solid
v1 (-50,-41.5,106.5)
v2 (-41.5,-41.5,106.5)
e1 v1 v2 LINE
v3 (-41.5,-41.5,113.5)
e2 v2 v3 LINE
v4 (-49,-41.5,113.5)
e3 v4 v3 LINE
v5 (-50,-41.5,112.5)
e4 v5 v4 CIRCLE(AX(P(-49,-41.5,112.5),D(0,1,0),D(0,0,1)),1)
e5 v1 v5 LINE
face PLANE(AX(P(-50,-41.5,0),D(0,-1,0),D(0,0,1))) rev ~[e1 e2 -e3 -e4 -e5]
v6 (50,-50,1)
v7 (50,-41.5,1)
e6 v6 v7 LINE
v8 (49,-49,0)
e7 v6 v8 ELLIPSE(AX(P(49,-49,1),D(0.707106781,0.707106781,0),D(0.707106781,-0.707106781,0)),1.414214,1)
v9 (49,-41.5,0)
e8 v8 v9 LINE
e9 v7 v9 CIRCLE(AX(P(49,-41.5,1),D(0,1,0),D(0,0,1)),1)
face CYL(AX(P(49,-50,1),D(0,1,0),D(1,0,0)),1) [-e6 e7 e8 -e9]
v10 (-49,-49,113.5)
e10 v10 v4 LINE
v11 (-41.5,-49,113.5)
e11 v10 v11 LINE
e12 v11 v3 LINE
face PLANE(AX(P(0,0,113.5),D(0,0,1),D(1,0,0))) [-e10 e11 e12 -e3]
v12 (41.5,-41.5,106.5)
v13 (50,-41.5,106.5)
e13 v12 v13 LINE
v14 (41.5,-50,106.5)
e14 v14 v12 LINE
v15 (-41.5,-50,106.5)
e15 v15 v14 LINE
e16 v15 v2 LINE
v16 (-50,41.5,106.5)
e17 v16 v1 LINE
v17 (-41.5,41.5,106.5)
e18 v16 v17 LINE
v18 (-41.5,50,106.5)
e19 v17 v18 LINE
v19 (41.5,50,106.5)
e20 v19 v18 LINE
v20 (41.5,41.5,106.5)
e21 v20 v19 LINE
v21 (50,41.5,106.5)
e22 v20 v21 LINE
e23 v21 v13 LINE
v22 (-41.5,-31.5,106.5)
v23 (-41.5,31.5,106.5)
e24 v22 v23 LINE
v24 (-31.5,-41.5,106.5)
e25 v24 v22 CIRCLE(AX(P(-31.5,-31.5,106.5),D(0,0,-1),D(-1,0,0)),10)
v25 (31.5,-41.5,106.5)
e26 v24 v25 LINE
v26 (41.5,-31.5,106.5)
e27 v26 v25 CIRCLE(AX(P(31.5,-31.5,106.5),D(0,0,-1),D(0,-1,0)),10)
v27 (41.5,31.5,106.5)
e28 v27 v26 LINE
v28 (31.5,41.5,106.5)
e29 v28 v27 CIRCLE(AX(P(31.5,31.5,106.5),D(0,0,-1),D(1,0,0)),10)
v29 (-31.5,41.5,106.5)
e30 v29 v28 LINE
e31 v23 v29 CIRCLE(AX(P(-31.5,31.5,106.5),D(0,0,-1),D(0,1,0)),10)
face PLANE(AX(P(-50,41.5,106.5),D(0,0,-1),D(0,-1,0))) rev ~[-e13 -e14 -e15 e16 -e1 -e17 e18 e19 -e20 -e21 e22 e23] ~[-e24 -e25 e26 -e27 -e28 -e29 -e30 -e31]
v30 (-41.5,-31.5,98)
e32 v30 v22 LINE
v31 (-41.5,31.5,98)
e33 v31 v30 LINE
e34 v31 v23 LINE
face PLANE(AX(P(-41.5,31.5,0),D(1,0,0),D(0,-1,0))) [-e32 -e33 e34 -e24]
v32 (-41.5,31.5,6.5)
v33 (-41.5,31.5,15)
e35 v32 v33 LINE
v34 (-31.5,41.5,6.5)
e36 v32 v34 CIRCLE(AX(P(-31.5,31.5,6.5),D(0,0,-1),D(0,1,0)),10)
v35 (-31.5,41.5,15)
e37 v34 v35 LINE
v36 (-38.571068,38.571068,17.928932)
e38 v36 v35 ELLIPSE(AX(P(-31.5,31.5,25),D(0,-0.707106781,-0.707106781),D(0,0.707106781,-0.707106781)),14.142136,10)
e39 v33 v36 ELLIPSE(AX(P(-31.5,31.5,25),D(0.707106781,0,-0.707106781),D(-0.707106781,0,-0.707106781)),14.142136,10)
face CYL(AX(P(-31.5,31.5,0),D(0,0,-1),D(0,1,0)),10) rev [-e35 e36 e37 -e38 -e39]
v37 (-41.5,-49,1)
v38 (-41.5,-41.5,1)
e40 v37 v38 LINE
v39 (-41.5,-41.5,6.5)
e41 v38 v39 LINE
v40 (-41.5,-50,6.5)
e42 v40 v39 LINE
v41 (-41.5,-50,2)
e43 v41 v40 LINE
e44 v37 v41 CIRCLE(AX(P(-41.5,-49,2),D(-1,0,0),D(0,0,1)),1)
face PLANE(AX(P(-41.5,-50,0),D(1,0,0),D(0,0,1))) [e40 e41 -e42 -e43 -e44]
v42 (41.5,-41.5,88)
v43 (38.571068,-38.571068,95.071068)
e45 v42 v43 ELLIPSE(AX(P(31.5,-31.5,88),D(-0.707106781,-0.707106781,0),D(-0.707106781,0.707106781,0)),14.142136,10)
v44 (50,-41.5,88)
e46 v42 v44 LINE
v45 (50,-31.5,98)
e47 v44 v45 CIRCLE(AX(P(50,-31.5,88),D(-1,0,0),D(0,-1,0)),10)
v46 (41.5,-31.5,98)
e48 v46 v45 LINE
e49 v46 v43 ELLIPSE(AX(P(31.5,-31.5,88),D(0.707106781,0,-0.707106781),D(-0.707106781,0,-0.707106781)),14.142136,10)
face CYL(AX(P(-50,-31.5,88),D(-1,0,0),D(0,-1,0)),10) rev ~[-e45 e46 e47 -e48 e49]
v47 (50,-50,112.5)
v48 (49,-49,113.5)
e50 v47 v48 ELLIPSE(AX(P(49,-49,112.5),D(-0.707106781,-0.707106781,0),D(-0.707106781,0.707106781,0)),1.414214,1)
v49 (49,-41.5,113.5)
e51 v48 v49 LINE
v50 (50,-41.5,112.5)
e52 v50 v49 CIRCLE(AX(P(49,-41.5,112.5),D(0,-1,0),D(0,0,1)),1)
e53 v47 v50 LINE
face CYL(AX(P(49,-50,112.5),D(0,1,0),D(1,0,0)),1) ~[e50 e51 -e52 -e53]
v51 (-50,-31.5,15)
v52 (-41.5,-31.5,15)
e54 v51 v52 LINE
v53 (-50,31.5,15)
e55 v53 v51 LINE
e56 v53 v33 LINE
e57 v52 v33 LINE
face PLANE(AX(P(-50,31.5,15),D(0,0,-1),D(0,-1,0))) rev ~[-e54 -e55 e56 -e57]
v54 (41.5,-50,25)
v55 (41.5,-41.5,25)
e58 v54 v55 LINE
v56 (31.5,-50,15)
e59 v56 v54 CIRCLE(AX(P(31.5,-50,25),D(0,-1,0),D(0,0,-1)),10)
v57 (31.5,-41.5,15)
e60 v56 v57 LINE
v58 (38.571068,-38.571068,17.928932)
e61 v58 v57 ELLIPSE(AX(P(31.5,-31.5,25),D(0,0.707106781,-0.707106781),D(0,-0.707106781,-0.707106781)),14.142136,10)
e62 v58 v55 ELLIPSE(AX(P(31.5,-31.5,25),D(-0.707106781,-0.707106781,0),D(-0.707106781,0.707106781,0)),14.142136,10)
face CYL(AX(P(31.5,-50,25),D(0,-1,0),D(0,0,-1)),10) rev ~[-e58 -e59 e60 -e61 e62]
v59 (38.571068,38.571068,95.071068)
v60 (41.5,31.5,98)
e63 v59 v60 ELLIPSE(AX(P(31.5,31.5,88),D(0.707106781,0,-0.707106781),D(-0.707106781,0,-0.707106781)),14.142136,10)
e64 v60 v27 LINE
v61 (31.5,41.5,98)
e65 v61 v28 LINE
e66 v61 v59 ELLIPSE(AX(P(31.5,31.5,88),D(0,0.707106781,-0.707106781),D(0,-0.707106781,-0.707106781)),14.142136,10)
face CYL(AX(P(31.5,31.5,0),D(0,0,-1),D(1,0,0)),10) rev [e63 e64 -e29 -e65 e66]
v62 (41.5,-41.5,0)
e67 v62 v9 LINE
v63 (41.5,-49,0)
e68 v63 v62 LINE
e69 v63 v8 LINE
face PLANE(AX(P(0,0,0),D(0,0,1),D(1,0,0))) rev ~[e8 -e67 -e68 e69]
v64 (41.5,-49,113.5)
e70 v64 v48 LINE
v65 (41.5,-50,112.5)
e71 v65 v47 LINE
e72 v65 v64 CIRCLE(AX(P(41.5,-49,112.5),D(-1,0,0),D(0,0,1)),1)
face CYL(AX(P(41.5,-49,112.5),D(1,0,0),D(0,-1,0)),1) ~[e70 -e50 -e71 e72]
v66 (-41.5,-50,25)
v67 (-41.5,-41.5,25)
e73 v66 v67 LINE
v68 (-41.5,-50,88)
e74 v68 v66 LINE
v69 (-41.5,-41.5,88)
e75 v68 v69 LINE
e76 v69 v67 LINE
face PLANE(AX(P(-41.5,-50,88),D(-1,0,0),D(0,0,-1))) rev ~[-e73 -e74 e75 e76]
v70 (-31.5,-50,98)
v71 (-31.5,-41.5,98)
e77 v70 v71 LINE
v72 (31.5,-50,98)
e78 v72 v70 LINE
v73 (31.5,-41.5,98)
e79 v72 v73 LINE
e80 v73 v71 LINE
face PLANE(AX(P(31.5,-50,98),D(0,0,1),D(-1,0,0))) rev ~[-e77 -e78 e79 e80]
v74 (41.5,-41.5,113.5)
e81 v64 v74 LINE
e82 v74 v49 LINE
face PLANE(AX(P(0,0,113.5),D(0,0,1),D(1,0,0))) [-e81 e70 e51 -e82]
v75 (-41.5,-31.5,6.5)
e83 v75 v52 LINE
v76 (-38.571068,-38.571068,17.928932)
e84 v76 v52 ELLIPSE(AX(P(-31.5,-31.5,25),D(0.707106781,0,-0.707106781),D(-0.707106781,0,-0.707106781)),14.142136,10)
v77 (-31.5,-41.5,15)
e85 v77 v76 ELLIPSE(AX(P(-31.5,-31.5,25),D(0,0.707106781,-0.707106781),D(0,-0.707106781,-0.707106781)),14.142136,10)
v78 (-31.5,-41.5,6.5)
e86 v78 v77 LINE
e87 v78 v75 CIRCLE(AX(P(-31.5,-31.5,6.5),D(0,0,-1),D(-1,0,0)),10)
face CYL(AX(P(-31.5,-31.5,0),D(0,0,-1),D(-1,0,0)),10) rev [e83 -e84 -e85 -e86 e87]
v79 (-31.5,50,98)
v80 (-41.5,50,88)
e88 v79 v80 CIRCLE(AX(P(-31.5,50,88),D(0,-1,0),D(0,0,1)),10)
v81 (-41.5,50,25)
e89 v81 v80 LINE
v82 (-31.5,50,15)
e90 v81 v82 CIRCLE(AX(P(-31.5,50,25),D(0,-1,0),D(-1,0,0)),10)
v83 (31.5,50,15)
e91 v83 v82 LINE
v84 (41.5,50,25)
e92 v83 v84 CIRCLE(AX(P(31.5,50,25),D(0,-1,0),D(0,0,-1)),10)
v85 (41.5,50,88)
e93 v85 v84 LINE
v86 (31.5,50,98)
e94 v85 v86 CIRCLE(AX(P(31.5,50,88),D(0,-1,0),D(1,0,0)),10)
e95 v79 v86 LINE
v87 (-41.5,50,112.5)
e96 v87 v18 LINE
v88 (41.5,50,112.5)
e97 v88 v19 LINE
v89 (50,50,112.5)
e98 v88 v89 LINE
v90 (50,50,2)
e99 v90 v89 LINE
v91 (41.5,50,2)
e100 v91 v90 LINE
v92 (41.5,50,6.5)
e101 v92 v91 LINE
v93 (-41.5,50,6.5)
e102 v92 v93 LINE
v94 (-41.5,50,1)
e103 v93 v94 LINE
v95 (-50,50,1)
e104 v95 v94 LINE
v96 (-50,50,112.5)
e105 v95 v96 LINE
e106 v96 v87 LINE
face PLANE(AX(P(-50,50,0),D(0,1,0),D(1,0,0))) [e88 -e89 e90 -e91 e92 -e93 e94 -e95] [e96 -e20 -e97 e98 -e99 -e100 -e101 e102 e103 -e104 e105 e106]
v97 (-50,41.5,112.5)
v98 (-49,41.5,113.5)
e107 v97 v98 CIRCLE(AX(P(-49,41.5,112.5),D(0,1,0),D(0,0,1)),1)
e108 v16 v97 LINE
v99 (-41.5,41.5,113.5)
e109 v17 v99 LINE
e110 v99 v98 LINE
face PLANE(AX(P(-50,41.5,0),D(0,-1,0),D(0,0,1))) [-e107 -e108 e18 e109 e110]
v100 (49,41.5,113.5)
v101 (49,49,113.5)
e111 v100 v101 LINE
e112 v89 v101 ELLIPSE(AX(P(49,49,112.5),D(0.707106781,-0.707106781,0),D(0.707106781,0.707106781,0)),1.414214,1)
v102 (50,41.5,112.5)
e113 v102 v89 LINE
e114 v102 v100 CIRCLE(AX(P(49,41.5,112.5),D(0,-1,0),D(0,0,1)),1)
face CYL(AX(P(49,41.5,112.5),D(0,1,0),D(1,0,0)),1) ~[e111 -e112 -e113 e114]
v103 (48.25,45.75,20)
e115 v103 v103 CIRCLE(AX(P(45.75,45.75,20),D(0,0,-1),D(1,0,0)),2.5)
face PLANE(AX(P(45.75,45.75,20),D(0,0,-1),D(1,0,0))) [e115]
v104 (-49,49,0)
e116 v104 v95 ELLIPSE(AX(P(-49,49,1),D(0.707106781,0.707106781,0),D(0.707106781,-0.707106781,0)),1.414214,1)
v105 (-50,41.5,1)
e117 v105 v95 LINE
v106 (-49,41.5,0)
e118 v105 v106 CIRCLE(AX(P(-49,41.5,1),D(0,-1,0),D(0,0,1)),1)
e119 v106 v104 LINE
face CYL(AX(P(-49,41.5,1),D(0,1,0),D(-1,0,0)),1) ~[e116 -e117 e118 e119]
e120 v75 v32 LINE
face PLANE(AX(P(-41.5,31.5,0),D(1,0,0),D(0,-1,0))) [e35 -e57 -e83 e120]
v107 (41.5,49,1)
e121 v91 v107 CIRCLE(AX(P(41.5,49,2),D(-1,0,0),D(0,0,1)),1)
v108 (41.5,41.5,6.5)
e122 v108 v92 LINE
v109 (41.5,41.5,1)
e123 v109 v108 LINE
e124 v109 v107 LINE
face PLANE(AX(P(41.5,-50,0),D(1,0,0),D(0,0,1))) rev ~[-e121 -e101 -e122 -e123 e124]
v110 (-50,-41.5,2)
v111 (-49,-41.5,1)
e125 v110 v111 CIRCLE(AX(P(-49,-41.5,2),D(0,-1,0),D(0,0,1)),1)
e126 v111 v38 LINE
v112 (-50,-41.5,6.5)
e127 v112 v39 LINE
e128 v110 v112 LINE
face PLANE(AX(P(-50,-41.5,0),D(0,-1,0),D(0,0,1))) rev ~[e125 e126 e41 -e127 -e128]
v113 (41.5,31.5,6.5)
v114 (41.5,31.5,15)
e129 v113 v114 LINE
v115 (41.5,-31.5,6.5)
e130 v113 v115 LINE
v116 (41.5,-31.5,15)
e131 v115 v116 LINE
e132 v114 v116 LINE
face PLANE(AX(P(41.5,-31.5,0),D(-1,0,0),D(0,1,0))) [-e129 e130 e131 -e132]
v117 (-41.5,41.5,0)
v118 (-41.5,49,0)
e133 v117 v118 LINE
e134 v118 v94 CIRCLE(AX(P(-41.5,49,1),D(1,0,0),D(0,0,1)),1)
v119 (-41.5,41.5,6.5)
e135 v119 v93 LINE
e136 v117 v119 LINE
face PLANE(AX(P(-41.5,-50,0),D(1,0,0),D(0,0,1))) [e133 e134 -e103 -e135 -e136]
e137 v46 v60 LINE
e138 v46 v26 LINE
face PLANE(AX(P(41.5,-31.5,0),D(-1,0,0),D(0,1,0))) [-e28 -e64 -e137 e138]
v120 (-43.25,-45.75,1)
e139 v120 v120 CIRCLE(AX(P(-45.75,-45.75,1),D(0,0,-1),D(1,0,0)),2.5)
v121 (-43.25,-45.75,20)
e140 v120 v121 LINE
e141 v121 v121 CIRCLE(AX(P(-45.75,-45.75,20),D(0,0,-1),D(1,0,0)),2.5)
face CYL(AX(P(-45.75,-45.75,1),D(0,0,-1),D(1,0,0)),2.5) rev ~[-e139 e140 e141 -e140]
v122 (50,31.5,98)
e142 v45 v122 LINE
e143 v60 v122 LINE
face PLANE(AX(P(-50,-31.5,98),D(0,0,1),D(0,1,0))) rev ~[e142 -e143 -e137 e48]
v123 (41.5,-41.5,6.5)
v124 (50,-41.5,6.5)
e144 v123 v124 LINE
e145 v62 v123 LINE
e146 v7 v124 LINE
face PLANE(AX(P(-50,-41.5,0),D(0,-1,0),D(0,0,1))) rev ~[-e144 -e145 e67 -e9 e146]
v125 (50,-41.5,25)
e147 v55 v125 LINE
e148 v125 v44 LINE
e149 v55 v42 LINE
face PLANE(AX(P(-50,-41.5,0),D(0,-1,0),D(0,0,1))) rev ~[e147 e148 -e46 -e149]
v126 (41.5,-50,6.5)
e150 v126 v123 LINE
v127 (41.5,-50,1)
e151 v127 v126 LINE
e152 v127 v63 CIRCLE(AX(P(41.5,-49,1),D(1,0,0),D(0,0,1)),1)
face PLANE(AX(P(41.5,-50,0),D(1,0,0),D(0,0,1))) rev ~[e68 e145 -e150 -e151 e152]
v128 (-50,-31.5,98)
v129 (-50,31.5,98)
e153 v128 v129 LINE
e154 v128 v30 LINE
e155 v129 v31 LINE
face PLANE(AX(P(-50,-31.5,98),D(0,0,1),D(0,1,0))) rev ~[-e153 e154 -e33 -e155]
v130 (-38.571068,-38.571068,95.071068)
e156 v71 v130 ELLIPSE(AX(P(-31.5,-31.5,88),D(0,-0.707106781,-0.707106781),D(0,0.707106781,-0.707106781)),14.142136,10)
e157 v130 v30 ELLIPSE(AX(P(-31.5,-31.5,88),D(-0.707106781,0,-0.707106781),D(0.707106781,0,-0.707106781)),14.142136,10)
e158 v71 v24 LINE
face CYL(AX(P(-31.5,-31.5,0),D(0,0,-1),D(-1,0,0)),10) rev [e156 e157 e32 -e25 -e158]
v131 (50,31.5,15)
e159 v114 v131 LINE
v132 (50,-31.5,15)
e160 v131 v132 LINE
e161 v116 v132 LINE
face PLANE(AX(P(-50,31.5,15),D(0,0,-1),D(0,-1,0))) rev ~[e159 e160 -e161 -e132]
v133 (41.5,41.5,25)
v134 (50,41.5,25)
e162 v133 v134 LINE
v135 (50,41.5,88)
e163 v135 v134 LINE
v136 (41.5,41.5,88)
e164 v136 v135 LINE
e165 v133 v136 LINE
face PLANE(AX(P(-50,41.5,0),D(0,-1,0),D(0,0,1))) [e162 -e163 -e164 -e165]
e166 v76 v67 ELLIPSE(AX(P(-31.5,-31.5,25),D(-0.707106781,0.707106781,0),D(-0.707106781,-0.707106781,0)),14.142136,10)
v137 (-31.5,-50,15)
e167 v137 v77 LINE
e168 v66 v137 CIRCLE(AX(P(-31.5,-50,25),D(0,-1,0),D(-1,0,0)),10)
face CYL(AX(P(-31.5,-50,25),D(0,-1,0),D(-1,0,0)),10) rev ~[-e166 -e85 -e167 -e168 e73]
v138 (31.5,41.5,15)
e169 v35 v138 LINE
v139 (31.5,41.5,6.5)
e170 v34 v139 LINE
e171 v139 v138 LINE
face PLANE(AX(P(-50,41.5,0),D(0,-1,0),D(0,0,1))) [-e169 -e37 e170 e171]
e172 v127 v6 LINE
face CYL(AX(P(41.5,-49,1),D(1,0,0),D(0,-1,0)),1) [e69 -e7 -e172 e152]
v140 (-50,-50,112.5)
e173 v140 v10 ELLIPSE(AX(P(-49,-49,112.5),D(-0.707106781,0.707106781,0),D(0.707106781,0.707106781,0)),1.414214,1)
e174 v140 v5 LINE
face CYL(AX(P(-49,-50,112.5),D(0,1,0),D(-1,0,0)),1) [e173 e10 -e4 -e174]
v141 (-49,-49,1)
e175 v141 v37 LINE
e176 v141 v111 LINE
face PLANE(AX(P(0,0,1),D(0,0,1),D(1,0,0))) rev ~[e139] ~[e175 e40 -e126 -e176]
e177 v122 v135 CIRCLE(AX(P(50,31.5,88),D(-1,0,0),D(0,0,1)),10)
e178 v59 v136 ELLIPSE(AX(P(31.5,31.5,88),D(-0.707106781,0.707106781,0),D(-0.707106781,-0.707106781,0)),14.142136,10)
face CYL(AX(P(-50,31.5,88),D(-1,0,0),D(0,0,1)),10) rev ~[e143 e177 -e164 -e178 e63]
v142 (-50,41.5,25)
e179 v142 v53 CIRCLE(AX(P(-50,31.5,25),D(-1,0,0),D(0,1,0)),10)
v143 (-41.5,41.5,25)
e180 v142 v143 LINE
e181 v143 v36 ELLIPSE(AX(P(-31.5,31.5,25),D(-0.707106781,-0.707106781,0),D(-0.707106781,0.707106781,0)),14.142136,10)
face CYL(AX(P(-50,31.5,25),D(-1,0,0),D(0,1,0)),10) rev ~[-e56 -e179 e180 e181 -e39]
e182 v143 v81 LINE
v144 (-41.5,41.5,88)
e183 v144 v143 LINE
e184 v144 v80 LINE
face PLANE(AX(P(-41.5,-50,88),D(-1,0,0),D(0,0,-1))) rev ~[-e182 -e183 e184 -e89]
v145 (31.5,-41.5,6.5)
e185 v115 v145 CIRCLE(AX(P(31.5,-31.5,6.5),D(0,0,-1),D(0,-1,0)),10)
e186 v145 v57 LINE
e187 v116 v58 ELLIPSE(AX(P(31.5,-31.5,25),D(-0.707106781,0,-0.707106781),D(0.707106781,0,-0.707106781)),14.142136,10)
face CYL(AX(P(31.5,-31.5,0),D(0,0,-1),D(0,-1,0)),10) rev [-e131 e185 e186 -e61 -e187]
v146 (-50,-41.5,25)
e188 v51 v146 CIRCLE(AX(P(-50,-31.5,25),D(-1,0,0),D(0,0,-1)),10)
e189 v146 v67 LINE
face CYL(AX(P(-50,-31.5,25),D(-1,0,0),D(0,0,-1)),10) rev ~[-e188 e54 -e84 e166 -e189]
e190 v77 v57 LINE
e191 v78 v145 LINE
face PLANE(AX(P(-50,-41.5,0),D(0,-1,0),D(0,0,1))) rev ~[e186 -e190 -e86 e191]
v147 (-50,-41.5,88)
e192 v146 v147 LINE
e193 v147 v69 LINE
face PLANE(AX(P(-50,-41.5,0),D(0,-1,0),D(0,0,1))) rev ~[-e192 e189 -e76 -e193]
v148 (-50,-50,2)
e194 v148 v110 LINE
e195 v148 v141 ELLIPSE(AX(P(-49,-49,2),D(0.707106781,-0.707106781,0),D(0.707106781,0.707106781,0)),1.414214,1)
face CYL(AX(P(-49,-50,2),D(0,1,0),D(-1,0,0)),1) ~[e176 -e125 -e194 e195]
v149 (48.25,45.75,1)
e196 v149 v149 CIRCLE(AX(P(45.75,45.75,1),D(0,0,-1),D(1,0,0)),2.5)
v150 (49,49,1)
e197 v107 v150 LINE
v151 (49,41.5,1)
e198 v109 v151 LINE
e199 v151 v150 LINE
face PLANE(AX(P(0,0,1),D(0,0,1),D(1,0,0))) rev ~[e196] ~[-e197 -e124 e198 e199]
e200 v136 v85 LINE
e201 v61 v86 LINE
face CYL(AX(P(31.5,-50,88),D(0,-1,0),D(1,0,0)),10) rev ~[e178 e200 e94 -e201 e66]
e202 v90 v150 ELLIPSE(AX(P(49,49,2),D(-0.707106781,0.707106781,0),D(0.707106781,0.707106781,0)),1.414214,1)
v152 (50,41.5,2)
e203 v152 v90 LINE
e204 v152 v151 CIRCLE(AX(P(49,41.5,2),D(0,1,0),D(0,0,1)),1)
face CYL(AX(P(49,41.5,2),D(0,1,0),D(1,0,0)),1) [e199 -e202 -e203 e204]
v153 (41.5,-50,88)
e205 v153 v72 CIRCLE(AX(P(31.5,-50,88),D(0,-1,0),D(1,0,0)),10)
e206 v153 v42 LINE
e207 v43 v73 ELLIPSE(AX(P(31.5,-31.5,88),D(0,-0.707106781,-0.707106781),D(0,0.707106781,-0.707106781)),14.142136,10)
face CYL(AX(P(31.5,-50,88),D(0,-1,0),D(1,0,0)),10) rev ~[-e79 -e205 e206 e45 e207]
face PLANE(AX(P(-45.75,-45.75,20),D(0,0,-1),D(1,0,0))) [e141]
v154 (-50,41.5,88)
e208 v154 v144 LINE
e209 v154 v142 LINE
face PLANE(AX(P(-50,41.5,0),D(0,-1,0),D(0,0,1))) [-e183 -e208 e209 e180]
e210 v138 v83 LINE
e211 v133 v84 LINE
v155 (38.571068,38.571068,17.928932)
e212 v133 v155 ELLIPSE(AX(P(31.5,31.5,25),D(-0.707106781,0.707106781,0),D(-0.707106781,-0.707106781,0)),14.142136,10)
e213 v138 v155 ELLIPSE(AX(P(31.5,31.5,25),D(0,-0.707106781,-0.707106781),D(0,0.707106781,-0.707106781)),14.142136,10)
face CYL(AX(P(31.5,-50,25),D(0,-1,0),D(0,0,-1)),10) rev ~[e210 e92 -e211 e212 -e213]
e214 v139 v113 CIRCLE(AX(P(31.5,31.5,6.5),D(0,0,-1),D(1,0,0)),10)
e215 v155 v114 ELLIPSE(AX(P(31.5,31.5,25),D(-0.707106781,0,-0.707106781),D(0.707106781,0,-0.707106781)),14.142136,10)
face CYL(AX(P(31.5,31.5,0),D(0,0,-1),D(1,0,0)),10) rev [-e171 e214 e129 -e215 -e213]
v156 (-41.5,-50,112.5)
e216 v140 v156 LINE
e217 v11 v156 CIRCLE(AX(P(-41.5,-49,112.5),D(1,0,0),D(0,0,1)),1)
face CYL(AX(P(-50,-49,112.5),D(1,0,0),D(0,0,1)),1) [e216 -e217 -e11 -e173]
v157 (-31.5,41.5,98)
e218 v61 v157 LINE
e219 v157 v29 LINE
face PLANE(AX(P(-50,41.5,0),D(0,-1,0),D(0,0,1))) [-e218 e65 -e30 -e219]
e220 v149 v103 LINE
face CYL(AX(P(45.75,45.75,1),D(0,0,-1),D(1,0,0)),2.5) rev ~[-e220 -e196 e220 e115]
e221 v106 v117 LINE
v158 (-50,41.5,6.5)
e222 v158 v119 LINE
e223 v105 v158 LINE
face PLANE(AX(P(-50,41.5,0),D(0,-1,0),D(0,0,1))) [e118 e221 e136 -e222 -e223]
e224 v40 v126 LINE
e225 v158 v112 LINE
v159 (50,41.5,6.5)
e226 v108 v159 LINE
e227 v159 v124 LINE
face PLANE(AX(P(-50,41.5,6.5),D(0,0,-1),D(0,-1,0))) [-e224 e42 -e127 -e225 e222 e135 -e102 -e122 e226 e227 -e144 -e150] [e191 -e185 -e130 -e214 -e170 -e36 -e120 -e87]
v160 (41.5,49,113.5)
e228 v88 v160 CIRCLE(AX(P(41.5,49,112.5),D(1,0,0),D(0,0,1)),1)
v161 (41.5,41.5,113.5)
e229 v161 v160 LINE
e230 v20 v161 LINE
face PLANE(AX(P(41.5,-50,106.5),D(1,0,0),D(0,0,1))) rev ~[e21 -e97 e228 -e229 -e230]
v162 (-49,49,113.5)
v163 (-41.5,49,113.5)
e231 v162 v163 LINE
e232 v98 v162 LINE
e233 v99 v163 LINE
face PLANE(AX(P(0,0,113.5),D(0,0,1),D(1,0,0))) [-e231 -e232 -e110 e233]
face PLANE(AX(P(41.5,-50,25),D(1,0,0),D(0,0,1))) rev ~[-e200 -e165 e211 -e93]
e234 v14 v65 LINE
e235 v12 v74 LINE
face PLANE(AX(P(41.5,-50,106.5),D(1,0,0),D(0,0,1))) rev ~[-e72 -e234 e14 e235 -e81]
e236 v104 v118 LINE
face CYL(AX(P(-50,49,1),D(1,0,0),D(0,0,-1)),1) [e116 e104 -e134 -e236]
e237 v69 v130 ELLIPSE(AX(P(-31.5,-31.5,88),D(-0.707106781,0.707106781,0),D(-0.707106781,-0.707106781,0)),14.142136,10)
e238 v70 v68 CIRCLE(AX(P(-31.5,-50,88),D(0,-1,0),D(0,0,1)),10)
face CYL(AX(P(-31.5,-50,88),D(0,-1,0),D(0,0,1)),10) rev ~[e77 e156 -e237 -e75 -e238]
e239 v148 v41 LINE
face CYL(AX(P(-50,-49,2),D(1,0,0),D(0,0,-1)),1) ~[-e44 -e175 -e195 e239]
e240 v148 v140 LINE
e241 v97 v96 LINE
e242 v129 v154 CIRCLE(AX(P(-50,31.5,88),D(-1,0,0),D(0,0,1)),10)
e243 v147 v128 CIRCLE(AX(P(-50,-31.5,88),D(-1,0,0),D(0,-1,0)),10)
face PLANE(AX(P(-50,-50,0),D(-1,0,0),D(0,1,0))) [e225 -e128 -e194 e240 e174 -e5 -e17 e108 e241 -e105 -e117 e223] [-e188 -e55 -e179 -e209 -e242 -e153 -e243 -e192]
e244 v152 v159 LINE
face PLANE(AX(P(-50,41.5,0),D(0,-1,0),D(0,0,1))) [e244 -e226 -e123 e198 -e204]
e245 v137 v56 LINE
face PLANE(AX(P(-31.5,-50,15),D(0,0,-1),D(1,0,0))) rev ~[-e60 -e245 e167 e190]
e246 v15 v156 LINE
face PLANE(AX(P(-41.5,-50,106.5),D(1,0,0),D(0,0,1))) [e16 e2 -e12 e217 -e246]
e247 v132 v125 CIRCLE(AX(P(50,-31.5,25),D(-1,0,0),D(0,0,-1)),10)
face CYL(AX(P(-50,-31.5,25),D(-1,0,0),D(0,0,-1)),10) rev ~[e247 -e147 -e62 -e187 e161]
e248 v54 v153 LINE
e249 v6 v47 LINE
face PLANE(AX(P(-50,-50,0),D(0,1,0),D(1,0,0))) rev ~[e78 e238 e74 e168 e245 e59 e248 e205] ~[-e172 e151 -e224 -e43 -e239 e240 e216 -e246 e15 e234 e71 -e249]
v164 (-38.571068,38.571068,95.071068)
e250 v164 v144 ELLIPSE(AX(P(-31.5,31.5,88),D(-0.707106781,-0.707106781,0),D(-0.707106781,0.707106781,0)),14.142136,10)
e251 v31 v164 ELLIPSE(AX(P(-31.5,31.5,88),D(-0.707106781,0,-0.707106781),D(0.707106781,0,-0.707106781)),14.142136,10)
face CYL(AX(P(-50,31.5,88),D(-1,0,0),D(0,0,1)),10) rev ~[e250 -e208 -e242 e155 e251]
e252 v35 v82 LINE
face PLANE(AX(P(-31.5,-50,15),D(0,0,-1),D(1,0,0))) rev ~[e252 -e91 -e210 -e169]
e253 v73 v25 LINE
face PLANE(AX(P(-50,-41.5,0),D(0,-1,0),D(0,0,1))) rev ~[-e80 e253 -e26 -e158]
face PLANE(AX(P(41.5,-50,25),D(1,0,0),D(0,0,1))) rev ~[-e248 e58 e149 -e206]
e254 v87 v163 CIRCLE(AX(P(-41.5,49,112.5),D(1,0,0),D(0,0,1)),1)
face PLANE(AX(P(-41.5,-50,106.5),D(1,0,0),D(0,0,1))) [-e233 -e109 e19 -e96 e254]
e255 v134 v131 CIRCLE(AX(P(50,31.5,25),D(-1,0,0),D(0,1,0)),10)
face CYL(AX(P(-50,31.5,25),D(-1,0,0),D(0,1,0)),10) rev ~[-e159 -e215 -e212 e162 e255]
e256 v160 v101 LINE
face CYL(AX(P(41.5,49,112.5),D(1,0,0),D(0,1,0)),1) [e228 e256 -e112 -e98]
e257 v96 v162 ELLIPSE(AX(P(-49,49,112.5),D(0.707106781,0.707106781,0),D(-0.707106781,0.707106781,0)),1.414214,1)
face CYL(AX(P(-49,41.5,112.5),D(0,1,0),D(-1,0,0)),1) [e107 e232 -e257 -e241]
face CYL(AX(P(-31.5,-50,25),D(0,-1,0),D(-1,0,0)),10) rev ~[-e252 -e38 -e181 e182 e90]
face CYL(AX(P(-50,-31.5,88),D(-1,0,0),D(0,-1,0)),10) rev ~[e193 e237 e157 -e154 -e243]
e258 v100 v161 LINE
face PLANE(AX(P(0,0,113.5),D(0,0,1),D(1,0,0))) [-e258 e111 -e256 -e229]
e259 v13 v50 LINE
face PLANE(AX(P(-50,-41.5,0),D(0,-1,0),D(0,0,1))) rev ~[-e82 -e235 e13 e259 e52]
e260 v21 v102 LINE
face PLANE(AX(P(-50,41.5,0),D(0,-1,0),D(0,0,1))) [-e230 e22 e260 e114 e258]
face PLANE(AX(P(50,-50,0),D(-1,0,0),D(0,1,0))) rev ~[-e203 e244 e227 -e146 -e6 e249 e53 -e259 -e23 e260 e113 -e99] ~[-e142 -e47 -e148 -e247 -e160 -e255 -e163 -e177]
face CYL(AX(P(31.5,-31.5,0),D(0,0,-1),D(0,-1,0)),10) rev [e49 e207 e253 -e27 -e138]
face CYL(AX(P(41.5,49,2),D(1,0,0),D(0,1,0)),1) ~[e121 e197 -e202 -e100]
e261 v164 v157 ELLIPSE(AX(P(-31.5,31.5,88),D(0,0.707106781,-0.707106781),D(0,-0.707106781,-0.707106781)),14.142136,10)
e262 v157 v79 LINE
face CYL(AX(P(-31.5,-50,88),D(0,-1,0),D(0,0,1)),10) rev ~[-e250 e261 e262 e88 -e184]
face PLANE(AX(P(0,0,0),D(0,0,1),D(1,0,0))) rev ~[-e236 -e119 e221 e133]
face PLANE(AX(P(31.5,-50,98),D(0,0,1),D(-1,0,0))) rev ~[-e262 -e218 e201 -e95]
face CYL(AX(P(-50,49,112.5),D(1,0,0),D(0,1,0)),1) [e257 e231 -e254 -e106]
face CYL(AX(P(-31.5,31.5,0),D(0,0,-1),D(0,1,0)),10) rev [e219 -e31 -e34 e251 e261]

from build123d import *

# Parameters (mm, degrees)
F0_W      = 100
F0_H      = 100
F1_DEPTH  = 113.5
F3_DEPTH  = 25
F4_DEPTH  = 120
F5_W      = 83
F5_H      = 6.5
F5_H_2    = 7
F6_DEPTH  = 105
F7_W      = 83
F7_H      = 7
F7_H_2    = 6.5
F8_DEPTH  = 105
F9_DEPTH  = 1
F10_R     = 1
F11_R     = 2.5
F12_DEPTH = 19


with BuildPart() as f1:
    # F0 (on Top) → F1 (new body)
    with BuildSketch(Plane.XY):
        Rectangle(F0_W, F0_H)
    extrude(amount=F1_DEPTH)

    # F2 (on Top) → F3 (join)
    with BuildSketch(Plane.XY):
        with BuildLine():
            Line((31.5, 41.5), (-31.5, 41.5))
            ThreePointArc((-31.5, 41.5), (-38.5710678119, 38.5710678119), (-41.5, 31.5))
            Line((-41.5, 31.5), (-41.5, -31.5))
            ThreePointArc((-41.5, -31.5), (-38.5710678119, -38.5710678119), (-31.5, -41.5))
            Line((-31.5, -41.5), (31.5, -41.5))
            ThreePointArc((31.5, -41.5), (38.5710678119, -38.5710678119), (41.5, -31.5))
            Line((41.5, -31.5), (41.5, 31.5))
            ThreePointArc((41.5, 31.5), (38.5710678119, 38.5710678119), (31.5, 41.5))
        make_face()
    extrude(amount=F3_DEPTH)

    # F2 (on Top) → F4 (cut)
    with BuildSketch(Plane.XY):
        with BuildLine():
            Line((31.5, 41.5), (-31.5, 41.5))
            ThreePointArc((-31.5, 41.5), (-38.5710678119, 38.5710678119), (-41.5, 31.5))
            Line((-41.5, 31.5), (-41.5, -31.5))
            ThreePointArc((-41.5, -31.5), (-38.5710678119, -38.5710678119), (-31.5, -41.5))
            Line((-31.5, -41.5), (31.5, -41.5))
            ThreePointArc((31.5, -41.5), (38.5710678119, -38.5710678119), (41.5, -31.5))
            Line((41.5, -31.5), (41.5, 31.5))
            ThreePointArc((41.5, 31.5), (38.5710678119, 38.5710678119), (31.5, 41.5))
        make_face()
    extrude(amount=F4_DEPTH, mode=Mode.SUBTRACT)

    # F5 (on face) → F6 (cut)
    with BuildSketch(Plane(origin=(-50, 0, 0), x_dir=(0, -1, 0), z_dir=(-1, 0, 0))):
        with BuildLine():
            ThreePointArc((-41.5, 25), (-38.5710678119, 17.9289321881), (-31.5, 15))
            Line((-31.5, 15), (31.5, 15))
            ThreePointArc((31.5, 15), (38.5710678119, 17.9289321881), (41.5, 25))
            Line((41.5, 25), (41.5, 88))
            ThreePointArc((41.5, 88), (38.5710678119, 95.0710678119), (31.5, 98))
            Line((31.5, 98), (-31.5, 98))
            ThreePointArc((-31.5, 98), (-38.5710678119, 95.0710678119), (-41.5, 88))
            Line((-41.5, 88), (-41.5, 25))
        make_face()
        with Locations((0, 3.25)):
            Rectangle(F5_W, F5_H)
        with Locations((0, 110)):
            Rectangle(F5_W, F5_H_2)
    extrude(amount=-F6_DEPTH, mode=Mode.SUBTRACT)

    # F7 (on face) → F8 (cut)
    with BuildSketch(Plane.XZ.offset(50)):
        with Locations((0, 110)):
            Rectangle(F7_W, F7_H)
        with BuildLine():
            ThreePointArc((-31.5, 98), (-38.5710678119, 95.0710678119), (-41.5, 88))
            Line((-41.5, 88), (-41.5, 25))
            ThreePointArc((-41.5, 25), (-38.5710678119, 17.9289321881), (-31.5, 15))
            Line((-31.5, 15), (31.5, 15))
            ThreePointArc((31.5, 15), (38.5710678119, 17.9289321881), (41.5, 25))
            Line((41.5, 25), (41.5, 88))
            ThreePointArc((41.5, 88), (38.5710678119, 95.0710678119), (31.5, 98))
            Line((31.5, 98), (-31.5, 98))
        make_face()
        with Locations((0, 3.25)):
            Rectangle(F7_W, F7_H_2)
    extrude(amount=-F8_DEPTH, mode=Mode.SUBTRACT)

    # F9 (cut): faces of the model
    f9_faces = [f1.faces().sort_by_distance(p)[0] for p in [
        (-45.75, -45.75, 0),
        (-45.75, -45.75, 113.5),
        (45.75, 45.75, 113.5),
        (45.75, 45.75, 0),
    ]]
    extrude(f9_faces, amount=-F9_DEPTH, dir=(0, 0, -1), mode=Mode.SUBTRACT)

    # F10
    f10_edges = [f1.edges().sort_by_distance(p)[0] for p in [
        (45.75, -50, 0),
        (50, -45.75, 0),
        (50, -45.75, 113.5),
        (45.75, -50, 113.5),
        (50, 45.75, 113.5),
        (45.75, 50, 113.5),
        (50, 45.75, 1),
        (45.75, 50, 1),
        (-45.75, 50, 0),
        (-50, 45.75, 0),
        (-50, -45.75, 1),
        (-45.75, -50, 1),
        (-50, -45.75, 113.5),
        (-45.75, -50, 113.5),
        (-50, 45.75, 113.5),
        (-45.75, 50, 113.5),
    ]]
    fillet(f10_edges, radius=F10_R)

    # F11 (on face) → F12 (cut)
    with BuildSketch(Plane(origin=(0, 0, 1), x_dir=(1, 0, 0), z_dir=(0, 0, -1))):
        with Locations((-45.75, 45.75)):
            Circle(F11_R)
        with Locations((45.75, -45.75)):
            Circle(F11_R)
    extrude(amount=-F12_DEPTH, mode=Mode.SUBTRACT)


solid = f1.part
